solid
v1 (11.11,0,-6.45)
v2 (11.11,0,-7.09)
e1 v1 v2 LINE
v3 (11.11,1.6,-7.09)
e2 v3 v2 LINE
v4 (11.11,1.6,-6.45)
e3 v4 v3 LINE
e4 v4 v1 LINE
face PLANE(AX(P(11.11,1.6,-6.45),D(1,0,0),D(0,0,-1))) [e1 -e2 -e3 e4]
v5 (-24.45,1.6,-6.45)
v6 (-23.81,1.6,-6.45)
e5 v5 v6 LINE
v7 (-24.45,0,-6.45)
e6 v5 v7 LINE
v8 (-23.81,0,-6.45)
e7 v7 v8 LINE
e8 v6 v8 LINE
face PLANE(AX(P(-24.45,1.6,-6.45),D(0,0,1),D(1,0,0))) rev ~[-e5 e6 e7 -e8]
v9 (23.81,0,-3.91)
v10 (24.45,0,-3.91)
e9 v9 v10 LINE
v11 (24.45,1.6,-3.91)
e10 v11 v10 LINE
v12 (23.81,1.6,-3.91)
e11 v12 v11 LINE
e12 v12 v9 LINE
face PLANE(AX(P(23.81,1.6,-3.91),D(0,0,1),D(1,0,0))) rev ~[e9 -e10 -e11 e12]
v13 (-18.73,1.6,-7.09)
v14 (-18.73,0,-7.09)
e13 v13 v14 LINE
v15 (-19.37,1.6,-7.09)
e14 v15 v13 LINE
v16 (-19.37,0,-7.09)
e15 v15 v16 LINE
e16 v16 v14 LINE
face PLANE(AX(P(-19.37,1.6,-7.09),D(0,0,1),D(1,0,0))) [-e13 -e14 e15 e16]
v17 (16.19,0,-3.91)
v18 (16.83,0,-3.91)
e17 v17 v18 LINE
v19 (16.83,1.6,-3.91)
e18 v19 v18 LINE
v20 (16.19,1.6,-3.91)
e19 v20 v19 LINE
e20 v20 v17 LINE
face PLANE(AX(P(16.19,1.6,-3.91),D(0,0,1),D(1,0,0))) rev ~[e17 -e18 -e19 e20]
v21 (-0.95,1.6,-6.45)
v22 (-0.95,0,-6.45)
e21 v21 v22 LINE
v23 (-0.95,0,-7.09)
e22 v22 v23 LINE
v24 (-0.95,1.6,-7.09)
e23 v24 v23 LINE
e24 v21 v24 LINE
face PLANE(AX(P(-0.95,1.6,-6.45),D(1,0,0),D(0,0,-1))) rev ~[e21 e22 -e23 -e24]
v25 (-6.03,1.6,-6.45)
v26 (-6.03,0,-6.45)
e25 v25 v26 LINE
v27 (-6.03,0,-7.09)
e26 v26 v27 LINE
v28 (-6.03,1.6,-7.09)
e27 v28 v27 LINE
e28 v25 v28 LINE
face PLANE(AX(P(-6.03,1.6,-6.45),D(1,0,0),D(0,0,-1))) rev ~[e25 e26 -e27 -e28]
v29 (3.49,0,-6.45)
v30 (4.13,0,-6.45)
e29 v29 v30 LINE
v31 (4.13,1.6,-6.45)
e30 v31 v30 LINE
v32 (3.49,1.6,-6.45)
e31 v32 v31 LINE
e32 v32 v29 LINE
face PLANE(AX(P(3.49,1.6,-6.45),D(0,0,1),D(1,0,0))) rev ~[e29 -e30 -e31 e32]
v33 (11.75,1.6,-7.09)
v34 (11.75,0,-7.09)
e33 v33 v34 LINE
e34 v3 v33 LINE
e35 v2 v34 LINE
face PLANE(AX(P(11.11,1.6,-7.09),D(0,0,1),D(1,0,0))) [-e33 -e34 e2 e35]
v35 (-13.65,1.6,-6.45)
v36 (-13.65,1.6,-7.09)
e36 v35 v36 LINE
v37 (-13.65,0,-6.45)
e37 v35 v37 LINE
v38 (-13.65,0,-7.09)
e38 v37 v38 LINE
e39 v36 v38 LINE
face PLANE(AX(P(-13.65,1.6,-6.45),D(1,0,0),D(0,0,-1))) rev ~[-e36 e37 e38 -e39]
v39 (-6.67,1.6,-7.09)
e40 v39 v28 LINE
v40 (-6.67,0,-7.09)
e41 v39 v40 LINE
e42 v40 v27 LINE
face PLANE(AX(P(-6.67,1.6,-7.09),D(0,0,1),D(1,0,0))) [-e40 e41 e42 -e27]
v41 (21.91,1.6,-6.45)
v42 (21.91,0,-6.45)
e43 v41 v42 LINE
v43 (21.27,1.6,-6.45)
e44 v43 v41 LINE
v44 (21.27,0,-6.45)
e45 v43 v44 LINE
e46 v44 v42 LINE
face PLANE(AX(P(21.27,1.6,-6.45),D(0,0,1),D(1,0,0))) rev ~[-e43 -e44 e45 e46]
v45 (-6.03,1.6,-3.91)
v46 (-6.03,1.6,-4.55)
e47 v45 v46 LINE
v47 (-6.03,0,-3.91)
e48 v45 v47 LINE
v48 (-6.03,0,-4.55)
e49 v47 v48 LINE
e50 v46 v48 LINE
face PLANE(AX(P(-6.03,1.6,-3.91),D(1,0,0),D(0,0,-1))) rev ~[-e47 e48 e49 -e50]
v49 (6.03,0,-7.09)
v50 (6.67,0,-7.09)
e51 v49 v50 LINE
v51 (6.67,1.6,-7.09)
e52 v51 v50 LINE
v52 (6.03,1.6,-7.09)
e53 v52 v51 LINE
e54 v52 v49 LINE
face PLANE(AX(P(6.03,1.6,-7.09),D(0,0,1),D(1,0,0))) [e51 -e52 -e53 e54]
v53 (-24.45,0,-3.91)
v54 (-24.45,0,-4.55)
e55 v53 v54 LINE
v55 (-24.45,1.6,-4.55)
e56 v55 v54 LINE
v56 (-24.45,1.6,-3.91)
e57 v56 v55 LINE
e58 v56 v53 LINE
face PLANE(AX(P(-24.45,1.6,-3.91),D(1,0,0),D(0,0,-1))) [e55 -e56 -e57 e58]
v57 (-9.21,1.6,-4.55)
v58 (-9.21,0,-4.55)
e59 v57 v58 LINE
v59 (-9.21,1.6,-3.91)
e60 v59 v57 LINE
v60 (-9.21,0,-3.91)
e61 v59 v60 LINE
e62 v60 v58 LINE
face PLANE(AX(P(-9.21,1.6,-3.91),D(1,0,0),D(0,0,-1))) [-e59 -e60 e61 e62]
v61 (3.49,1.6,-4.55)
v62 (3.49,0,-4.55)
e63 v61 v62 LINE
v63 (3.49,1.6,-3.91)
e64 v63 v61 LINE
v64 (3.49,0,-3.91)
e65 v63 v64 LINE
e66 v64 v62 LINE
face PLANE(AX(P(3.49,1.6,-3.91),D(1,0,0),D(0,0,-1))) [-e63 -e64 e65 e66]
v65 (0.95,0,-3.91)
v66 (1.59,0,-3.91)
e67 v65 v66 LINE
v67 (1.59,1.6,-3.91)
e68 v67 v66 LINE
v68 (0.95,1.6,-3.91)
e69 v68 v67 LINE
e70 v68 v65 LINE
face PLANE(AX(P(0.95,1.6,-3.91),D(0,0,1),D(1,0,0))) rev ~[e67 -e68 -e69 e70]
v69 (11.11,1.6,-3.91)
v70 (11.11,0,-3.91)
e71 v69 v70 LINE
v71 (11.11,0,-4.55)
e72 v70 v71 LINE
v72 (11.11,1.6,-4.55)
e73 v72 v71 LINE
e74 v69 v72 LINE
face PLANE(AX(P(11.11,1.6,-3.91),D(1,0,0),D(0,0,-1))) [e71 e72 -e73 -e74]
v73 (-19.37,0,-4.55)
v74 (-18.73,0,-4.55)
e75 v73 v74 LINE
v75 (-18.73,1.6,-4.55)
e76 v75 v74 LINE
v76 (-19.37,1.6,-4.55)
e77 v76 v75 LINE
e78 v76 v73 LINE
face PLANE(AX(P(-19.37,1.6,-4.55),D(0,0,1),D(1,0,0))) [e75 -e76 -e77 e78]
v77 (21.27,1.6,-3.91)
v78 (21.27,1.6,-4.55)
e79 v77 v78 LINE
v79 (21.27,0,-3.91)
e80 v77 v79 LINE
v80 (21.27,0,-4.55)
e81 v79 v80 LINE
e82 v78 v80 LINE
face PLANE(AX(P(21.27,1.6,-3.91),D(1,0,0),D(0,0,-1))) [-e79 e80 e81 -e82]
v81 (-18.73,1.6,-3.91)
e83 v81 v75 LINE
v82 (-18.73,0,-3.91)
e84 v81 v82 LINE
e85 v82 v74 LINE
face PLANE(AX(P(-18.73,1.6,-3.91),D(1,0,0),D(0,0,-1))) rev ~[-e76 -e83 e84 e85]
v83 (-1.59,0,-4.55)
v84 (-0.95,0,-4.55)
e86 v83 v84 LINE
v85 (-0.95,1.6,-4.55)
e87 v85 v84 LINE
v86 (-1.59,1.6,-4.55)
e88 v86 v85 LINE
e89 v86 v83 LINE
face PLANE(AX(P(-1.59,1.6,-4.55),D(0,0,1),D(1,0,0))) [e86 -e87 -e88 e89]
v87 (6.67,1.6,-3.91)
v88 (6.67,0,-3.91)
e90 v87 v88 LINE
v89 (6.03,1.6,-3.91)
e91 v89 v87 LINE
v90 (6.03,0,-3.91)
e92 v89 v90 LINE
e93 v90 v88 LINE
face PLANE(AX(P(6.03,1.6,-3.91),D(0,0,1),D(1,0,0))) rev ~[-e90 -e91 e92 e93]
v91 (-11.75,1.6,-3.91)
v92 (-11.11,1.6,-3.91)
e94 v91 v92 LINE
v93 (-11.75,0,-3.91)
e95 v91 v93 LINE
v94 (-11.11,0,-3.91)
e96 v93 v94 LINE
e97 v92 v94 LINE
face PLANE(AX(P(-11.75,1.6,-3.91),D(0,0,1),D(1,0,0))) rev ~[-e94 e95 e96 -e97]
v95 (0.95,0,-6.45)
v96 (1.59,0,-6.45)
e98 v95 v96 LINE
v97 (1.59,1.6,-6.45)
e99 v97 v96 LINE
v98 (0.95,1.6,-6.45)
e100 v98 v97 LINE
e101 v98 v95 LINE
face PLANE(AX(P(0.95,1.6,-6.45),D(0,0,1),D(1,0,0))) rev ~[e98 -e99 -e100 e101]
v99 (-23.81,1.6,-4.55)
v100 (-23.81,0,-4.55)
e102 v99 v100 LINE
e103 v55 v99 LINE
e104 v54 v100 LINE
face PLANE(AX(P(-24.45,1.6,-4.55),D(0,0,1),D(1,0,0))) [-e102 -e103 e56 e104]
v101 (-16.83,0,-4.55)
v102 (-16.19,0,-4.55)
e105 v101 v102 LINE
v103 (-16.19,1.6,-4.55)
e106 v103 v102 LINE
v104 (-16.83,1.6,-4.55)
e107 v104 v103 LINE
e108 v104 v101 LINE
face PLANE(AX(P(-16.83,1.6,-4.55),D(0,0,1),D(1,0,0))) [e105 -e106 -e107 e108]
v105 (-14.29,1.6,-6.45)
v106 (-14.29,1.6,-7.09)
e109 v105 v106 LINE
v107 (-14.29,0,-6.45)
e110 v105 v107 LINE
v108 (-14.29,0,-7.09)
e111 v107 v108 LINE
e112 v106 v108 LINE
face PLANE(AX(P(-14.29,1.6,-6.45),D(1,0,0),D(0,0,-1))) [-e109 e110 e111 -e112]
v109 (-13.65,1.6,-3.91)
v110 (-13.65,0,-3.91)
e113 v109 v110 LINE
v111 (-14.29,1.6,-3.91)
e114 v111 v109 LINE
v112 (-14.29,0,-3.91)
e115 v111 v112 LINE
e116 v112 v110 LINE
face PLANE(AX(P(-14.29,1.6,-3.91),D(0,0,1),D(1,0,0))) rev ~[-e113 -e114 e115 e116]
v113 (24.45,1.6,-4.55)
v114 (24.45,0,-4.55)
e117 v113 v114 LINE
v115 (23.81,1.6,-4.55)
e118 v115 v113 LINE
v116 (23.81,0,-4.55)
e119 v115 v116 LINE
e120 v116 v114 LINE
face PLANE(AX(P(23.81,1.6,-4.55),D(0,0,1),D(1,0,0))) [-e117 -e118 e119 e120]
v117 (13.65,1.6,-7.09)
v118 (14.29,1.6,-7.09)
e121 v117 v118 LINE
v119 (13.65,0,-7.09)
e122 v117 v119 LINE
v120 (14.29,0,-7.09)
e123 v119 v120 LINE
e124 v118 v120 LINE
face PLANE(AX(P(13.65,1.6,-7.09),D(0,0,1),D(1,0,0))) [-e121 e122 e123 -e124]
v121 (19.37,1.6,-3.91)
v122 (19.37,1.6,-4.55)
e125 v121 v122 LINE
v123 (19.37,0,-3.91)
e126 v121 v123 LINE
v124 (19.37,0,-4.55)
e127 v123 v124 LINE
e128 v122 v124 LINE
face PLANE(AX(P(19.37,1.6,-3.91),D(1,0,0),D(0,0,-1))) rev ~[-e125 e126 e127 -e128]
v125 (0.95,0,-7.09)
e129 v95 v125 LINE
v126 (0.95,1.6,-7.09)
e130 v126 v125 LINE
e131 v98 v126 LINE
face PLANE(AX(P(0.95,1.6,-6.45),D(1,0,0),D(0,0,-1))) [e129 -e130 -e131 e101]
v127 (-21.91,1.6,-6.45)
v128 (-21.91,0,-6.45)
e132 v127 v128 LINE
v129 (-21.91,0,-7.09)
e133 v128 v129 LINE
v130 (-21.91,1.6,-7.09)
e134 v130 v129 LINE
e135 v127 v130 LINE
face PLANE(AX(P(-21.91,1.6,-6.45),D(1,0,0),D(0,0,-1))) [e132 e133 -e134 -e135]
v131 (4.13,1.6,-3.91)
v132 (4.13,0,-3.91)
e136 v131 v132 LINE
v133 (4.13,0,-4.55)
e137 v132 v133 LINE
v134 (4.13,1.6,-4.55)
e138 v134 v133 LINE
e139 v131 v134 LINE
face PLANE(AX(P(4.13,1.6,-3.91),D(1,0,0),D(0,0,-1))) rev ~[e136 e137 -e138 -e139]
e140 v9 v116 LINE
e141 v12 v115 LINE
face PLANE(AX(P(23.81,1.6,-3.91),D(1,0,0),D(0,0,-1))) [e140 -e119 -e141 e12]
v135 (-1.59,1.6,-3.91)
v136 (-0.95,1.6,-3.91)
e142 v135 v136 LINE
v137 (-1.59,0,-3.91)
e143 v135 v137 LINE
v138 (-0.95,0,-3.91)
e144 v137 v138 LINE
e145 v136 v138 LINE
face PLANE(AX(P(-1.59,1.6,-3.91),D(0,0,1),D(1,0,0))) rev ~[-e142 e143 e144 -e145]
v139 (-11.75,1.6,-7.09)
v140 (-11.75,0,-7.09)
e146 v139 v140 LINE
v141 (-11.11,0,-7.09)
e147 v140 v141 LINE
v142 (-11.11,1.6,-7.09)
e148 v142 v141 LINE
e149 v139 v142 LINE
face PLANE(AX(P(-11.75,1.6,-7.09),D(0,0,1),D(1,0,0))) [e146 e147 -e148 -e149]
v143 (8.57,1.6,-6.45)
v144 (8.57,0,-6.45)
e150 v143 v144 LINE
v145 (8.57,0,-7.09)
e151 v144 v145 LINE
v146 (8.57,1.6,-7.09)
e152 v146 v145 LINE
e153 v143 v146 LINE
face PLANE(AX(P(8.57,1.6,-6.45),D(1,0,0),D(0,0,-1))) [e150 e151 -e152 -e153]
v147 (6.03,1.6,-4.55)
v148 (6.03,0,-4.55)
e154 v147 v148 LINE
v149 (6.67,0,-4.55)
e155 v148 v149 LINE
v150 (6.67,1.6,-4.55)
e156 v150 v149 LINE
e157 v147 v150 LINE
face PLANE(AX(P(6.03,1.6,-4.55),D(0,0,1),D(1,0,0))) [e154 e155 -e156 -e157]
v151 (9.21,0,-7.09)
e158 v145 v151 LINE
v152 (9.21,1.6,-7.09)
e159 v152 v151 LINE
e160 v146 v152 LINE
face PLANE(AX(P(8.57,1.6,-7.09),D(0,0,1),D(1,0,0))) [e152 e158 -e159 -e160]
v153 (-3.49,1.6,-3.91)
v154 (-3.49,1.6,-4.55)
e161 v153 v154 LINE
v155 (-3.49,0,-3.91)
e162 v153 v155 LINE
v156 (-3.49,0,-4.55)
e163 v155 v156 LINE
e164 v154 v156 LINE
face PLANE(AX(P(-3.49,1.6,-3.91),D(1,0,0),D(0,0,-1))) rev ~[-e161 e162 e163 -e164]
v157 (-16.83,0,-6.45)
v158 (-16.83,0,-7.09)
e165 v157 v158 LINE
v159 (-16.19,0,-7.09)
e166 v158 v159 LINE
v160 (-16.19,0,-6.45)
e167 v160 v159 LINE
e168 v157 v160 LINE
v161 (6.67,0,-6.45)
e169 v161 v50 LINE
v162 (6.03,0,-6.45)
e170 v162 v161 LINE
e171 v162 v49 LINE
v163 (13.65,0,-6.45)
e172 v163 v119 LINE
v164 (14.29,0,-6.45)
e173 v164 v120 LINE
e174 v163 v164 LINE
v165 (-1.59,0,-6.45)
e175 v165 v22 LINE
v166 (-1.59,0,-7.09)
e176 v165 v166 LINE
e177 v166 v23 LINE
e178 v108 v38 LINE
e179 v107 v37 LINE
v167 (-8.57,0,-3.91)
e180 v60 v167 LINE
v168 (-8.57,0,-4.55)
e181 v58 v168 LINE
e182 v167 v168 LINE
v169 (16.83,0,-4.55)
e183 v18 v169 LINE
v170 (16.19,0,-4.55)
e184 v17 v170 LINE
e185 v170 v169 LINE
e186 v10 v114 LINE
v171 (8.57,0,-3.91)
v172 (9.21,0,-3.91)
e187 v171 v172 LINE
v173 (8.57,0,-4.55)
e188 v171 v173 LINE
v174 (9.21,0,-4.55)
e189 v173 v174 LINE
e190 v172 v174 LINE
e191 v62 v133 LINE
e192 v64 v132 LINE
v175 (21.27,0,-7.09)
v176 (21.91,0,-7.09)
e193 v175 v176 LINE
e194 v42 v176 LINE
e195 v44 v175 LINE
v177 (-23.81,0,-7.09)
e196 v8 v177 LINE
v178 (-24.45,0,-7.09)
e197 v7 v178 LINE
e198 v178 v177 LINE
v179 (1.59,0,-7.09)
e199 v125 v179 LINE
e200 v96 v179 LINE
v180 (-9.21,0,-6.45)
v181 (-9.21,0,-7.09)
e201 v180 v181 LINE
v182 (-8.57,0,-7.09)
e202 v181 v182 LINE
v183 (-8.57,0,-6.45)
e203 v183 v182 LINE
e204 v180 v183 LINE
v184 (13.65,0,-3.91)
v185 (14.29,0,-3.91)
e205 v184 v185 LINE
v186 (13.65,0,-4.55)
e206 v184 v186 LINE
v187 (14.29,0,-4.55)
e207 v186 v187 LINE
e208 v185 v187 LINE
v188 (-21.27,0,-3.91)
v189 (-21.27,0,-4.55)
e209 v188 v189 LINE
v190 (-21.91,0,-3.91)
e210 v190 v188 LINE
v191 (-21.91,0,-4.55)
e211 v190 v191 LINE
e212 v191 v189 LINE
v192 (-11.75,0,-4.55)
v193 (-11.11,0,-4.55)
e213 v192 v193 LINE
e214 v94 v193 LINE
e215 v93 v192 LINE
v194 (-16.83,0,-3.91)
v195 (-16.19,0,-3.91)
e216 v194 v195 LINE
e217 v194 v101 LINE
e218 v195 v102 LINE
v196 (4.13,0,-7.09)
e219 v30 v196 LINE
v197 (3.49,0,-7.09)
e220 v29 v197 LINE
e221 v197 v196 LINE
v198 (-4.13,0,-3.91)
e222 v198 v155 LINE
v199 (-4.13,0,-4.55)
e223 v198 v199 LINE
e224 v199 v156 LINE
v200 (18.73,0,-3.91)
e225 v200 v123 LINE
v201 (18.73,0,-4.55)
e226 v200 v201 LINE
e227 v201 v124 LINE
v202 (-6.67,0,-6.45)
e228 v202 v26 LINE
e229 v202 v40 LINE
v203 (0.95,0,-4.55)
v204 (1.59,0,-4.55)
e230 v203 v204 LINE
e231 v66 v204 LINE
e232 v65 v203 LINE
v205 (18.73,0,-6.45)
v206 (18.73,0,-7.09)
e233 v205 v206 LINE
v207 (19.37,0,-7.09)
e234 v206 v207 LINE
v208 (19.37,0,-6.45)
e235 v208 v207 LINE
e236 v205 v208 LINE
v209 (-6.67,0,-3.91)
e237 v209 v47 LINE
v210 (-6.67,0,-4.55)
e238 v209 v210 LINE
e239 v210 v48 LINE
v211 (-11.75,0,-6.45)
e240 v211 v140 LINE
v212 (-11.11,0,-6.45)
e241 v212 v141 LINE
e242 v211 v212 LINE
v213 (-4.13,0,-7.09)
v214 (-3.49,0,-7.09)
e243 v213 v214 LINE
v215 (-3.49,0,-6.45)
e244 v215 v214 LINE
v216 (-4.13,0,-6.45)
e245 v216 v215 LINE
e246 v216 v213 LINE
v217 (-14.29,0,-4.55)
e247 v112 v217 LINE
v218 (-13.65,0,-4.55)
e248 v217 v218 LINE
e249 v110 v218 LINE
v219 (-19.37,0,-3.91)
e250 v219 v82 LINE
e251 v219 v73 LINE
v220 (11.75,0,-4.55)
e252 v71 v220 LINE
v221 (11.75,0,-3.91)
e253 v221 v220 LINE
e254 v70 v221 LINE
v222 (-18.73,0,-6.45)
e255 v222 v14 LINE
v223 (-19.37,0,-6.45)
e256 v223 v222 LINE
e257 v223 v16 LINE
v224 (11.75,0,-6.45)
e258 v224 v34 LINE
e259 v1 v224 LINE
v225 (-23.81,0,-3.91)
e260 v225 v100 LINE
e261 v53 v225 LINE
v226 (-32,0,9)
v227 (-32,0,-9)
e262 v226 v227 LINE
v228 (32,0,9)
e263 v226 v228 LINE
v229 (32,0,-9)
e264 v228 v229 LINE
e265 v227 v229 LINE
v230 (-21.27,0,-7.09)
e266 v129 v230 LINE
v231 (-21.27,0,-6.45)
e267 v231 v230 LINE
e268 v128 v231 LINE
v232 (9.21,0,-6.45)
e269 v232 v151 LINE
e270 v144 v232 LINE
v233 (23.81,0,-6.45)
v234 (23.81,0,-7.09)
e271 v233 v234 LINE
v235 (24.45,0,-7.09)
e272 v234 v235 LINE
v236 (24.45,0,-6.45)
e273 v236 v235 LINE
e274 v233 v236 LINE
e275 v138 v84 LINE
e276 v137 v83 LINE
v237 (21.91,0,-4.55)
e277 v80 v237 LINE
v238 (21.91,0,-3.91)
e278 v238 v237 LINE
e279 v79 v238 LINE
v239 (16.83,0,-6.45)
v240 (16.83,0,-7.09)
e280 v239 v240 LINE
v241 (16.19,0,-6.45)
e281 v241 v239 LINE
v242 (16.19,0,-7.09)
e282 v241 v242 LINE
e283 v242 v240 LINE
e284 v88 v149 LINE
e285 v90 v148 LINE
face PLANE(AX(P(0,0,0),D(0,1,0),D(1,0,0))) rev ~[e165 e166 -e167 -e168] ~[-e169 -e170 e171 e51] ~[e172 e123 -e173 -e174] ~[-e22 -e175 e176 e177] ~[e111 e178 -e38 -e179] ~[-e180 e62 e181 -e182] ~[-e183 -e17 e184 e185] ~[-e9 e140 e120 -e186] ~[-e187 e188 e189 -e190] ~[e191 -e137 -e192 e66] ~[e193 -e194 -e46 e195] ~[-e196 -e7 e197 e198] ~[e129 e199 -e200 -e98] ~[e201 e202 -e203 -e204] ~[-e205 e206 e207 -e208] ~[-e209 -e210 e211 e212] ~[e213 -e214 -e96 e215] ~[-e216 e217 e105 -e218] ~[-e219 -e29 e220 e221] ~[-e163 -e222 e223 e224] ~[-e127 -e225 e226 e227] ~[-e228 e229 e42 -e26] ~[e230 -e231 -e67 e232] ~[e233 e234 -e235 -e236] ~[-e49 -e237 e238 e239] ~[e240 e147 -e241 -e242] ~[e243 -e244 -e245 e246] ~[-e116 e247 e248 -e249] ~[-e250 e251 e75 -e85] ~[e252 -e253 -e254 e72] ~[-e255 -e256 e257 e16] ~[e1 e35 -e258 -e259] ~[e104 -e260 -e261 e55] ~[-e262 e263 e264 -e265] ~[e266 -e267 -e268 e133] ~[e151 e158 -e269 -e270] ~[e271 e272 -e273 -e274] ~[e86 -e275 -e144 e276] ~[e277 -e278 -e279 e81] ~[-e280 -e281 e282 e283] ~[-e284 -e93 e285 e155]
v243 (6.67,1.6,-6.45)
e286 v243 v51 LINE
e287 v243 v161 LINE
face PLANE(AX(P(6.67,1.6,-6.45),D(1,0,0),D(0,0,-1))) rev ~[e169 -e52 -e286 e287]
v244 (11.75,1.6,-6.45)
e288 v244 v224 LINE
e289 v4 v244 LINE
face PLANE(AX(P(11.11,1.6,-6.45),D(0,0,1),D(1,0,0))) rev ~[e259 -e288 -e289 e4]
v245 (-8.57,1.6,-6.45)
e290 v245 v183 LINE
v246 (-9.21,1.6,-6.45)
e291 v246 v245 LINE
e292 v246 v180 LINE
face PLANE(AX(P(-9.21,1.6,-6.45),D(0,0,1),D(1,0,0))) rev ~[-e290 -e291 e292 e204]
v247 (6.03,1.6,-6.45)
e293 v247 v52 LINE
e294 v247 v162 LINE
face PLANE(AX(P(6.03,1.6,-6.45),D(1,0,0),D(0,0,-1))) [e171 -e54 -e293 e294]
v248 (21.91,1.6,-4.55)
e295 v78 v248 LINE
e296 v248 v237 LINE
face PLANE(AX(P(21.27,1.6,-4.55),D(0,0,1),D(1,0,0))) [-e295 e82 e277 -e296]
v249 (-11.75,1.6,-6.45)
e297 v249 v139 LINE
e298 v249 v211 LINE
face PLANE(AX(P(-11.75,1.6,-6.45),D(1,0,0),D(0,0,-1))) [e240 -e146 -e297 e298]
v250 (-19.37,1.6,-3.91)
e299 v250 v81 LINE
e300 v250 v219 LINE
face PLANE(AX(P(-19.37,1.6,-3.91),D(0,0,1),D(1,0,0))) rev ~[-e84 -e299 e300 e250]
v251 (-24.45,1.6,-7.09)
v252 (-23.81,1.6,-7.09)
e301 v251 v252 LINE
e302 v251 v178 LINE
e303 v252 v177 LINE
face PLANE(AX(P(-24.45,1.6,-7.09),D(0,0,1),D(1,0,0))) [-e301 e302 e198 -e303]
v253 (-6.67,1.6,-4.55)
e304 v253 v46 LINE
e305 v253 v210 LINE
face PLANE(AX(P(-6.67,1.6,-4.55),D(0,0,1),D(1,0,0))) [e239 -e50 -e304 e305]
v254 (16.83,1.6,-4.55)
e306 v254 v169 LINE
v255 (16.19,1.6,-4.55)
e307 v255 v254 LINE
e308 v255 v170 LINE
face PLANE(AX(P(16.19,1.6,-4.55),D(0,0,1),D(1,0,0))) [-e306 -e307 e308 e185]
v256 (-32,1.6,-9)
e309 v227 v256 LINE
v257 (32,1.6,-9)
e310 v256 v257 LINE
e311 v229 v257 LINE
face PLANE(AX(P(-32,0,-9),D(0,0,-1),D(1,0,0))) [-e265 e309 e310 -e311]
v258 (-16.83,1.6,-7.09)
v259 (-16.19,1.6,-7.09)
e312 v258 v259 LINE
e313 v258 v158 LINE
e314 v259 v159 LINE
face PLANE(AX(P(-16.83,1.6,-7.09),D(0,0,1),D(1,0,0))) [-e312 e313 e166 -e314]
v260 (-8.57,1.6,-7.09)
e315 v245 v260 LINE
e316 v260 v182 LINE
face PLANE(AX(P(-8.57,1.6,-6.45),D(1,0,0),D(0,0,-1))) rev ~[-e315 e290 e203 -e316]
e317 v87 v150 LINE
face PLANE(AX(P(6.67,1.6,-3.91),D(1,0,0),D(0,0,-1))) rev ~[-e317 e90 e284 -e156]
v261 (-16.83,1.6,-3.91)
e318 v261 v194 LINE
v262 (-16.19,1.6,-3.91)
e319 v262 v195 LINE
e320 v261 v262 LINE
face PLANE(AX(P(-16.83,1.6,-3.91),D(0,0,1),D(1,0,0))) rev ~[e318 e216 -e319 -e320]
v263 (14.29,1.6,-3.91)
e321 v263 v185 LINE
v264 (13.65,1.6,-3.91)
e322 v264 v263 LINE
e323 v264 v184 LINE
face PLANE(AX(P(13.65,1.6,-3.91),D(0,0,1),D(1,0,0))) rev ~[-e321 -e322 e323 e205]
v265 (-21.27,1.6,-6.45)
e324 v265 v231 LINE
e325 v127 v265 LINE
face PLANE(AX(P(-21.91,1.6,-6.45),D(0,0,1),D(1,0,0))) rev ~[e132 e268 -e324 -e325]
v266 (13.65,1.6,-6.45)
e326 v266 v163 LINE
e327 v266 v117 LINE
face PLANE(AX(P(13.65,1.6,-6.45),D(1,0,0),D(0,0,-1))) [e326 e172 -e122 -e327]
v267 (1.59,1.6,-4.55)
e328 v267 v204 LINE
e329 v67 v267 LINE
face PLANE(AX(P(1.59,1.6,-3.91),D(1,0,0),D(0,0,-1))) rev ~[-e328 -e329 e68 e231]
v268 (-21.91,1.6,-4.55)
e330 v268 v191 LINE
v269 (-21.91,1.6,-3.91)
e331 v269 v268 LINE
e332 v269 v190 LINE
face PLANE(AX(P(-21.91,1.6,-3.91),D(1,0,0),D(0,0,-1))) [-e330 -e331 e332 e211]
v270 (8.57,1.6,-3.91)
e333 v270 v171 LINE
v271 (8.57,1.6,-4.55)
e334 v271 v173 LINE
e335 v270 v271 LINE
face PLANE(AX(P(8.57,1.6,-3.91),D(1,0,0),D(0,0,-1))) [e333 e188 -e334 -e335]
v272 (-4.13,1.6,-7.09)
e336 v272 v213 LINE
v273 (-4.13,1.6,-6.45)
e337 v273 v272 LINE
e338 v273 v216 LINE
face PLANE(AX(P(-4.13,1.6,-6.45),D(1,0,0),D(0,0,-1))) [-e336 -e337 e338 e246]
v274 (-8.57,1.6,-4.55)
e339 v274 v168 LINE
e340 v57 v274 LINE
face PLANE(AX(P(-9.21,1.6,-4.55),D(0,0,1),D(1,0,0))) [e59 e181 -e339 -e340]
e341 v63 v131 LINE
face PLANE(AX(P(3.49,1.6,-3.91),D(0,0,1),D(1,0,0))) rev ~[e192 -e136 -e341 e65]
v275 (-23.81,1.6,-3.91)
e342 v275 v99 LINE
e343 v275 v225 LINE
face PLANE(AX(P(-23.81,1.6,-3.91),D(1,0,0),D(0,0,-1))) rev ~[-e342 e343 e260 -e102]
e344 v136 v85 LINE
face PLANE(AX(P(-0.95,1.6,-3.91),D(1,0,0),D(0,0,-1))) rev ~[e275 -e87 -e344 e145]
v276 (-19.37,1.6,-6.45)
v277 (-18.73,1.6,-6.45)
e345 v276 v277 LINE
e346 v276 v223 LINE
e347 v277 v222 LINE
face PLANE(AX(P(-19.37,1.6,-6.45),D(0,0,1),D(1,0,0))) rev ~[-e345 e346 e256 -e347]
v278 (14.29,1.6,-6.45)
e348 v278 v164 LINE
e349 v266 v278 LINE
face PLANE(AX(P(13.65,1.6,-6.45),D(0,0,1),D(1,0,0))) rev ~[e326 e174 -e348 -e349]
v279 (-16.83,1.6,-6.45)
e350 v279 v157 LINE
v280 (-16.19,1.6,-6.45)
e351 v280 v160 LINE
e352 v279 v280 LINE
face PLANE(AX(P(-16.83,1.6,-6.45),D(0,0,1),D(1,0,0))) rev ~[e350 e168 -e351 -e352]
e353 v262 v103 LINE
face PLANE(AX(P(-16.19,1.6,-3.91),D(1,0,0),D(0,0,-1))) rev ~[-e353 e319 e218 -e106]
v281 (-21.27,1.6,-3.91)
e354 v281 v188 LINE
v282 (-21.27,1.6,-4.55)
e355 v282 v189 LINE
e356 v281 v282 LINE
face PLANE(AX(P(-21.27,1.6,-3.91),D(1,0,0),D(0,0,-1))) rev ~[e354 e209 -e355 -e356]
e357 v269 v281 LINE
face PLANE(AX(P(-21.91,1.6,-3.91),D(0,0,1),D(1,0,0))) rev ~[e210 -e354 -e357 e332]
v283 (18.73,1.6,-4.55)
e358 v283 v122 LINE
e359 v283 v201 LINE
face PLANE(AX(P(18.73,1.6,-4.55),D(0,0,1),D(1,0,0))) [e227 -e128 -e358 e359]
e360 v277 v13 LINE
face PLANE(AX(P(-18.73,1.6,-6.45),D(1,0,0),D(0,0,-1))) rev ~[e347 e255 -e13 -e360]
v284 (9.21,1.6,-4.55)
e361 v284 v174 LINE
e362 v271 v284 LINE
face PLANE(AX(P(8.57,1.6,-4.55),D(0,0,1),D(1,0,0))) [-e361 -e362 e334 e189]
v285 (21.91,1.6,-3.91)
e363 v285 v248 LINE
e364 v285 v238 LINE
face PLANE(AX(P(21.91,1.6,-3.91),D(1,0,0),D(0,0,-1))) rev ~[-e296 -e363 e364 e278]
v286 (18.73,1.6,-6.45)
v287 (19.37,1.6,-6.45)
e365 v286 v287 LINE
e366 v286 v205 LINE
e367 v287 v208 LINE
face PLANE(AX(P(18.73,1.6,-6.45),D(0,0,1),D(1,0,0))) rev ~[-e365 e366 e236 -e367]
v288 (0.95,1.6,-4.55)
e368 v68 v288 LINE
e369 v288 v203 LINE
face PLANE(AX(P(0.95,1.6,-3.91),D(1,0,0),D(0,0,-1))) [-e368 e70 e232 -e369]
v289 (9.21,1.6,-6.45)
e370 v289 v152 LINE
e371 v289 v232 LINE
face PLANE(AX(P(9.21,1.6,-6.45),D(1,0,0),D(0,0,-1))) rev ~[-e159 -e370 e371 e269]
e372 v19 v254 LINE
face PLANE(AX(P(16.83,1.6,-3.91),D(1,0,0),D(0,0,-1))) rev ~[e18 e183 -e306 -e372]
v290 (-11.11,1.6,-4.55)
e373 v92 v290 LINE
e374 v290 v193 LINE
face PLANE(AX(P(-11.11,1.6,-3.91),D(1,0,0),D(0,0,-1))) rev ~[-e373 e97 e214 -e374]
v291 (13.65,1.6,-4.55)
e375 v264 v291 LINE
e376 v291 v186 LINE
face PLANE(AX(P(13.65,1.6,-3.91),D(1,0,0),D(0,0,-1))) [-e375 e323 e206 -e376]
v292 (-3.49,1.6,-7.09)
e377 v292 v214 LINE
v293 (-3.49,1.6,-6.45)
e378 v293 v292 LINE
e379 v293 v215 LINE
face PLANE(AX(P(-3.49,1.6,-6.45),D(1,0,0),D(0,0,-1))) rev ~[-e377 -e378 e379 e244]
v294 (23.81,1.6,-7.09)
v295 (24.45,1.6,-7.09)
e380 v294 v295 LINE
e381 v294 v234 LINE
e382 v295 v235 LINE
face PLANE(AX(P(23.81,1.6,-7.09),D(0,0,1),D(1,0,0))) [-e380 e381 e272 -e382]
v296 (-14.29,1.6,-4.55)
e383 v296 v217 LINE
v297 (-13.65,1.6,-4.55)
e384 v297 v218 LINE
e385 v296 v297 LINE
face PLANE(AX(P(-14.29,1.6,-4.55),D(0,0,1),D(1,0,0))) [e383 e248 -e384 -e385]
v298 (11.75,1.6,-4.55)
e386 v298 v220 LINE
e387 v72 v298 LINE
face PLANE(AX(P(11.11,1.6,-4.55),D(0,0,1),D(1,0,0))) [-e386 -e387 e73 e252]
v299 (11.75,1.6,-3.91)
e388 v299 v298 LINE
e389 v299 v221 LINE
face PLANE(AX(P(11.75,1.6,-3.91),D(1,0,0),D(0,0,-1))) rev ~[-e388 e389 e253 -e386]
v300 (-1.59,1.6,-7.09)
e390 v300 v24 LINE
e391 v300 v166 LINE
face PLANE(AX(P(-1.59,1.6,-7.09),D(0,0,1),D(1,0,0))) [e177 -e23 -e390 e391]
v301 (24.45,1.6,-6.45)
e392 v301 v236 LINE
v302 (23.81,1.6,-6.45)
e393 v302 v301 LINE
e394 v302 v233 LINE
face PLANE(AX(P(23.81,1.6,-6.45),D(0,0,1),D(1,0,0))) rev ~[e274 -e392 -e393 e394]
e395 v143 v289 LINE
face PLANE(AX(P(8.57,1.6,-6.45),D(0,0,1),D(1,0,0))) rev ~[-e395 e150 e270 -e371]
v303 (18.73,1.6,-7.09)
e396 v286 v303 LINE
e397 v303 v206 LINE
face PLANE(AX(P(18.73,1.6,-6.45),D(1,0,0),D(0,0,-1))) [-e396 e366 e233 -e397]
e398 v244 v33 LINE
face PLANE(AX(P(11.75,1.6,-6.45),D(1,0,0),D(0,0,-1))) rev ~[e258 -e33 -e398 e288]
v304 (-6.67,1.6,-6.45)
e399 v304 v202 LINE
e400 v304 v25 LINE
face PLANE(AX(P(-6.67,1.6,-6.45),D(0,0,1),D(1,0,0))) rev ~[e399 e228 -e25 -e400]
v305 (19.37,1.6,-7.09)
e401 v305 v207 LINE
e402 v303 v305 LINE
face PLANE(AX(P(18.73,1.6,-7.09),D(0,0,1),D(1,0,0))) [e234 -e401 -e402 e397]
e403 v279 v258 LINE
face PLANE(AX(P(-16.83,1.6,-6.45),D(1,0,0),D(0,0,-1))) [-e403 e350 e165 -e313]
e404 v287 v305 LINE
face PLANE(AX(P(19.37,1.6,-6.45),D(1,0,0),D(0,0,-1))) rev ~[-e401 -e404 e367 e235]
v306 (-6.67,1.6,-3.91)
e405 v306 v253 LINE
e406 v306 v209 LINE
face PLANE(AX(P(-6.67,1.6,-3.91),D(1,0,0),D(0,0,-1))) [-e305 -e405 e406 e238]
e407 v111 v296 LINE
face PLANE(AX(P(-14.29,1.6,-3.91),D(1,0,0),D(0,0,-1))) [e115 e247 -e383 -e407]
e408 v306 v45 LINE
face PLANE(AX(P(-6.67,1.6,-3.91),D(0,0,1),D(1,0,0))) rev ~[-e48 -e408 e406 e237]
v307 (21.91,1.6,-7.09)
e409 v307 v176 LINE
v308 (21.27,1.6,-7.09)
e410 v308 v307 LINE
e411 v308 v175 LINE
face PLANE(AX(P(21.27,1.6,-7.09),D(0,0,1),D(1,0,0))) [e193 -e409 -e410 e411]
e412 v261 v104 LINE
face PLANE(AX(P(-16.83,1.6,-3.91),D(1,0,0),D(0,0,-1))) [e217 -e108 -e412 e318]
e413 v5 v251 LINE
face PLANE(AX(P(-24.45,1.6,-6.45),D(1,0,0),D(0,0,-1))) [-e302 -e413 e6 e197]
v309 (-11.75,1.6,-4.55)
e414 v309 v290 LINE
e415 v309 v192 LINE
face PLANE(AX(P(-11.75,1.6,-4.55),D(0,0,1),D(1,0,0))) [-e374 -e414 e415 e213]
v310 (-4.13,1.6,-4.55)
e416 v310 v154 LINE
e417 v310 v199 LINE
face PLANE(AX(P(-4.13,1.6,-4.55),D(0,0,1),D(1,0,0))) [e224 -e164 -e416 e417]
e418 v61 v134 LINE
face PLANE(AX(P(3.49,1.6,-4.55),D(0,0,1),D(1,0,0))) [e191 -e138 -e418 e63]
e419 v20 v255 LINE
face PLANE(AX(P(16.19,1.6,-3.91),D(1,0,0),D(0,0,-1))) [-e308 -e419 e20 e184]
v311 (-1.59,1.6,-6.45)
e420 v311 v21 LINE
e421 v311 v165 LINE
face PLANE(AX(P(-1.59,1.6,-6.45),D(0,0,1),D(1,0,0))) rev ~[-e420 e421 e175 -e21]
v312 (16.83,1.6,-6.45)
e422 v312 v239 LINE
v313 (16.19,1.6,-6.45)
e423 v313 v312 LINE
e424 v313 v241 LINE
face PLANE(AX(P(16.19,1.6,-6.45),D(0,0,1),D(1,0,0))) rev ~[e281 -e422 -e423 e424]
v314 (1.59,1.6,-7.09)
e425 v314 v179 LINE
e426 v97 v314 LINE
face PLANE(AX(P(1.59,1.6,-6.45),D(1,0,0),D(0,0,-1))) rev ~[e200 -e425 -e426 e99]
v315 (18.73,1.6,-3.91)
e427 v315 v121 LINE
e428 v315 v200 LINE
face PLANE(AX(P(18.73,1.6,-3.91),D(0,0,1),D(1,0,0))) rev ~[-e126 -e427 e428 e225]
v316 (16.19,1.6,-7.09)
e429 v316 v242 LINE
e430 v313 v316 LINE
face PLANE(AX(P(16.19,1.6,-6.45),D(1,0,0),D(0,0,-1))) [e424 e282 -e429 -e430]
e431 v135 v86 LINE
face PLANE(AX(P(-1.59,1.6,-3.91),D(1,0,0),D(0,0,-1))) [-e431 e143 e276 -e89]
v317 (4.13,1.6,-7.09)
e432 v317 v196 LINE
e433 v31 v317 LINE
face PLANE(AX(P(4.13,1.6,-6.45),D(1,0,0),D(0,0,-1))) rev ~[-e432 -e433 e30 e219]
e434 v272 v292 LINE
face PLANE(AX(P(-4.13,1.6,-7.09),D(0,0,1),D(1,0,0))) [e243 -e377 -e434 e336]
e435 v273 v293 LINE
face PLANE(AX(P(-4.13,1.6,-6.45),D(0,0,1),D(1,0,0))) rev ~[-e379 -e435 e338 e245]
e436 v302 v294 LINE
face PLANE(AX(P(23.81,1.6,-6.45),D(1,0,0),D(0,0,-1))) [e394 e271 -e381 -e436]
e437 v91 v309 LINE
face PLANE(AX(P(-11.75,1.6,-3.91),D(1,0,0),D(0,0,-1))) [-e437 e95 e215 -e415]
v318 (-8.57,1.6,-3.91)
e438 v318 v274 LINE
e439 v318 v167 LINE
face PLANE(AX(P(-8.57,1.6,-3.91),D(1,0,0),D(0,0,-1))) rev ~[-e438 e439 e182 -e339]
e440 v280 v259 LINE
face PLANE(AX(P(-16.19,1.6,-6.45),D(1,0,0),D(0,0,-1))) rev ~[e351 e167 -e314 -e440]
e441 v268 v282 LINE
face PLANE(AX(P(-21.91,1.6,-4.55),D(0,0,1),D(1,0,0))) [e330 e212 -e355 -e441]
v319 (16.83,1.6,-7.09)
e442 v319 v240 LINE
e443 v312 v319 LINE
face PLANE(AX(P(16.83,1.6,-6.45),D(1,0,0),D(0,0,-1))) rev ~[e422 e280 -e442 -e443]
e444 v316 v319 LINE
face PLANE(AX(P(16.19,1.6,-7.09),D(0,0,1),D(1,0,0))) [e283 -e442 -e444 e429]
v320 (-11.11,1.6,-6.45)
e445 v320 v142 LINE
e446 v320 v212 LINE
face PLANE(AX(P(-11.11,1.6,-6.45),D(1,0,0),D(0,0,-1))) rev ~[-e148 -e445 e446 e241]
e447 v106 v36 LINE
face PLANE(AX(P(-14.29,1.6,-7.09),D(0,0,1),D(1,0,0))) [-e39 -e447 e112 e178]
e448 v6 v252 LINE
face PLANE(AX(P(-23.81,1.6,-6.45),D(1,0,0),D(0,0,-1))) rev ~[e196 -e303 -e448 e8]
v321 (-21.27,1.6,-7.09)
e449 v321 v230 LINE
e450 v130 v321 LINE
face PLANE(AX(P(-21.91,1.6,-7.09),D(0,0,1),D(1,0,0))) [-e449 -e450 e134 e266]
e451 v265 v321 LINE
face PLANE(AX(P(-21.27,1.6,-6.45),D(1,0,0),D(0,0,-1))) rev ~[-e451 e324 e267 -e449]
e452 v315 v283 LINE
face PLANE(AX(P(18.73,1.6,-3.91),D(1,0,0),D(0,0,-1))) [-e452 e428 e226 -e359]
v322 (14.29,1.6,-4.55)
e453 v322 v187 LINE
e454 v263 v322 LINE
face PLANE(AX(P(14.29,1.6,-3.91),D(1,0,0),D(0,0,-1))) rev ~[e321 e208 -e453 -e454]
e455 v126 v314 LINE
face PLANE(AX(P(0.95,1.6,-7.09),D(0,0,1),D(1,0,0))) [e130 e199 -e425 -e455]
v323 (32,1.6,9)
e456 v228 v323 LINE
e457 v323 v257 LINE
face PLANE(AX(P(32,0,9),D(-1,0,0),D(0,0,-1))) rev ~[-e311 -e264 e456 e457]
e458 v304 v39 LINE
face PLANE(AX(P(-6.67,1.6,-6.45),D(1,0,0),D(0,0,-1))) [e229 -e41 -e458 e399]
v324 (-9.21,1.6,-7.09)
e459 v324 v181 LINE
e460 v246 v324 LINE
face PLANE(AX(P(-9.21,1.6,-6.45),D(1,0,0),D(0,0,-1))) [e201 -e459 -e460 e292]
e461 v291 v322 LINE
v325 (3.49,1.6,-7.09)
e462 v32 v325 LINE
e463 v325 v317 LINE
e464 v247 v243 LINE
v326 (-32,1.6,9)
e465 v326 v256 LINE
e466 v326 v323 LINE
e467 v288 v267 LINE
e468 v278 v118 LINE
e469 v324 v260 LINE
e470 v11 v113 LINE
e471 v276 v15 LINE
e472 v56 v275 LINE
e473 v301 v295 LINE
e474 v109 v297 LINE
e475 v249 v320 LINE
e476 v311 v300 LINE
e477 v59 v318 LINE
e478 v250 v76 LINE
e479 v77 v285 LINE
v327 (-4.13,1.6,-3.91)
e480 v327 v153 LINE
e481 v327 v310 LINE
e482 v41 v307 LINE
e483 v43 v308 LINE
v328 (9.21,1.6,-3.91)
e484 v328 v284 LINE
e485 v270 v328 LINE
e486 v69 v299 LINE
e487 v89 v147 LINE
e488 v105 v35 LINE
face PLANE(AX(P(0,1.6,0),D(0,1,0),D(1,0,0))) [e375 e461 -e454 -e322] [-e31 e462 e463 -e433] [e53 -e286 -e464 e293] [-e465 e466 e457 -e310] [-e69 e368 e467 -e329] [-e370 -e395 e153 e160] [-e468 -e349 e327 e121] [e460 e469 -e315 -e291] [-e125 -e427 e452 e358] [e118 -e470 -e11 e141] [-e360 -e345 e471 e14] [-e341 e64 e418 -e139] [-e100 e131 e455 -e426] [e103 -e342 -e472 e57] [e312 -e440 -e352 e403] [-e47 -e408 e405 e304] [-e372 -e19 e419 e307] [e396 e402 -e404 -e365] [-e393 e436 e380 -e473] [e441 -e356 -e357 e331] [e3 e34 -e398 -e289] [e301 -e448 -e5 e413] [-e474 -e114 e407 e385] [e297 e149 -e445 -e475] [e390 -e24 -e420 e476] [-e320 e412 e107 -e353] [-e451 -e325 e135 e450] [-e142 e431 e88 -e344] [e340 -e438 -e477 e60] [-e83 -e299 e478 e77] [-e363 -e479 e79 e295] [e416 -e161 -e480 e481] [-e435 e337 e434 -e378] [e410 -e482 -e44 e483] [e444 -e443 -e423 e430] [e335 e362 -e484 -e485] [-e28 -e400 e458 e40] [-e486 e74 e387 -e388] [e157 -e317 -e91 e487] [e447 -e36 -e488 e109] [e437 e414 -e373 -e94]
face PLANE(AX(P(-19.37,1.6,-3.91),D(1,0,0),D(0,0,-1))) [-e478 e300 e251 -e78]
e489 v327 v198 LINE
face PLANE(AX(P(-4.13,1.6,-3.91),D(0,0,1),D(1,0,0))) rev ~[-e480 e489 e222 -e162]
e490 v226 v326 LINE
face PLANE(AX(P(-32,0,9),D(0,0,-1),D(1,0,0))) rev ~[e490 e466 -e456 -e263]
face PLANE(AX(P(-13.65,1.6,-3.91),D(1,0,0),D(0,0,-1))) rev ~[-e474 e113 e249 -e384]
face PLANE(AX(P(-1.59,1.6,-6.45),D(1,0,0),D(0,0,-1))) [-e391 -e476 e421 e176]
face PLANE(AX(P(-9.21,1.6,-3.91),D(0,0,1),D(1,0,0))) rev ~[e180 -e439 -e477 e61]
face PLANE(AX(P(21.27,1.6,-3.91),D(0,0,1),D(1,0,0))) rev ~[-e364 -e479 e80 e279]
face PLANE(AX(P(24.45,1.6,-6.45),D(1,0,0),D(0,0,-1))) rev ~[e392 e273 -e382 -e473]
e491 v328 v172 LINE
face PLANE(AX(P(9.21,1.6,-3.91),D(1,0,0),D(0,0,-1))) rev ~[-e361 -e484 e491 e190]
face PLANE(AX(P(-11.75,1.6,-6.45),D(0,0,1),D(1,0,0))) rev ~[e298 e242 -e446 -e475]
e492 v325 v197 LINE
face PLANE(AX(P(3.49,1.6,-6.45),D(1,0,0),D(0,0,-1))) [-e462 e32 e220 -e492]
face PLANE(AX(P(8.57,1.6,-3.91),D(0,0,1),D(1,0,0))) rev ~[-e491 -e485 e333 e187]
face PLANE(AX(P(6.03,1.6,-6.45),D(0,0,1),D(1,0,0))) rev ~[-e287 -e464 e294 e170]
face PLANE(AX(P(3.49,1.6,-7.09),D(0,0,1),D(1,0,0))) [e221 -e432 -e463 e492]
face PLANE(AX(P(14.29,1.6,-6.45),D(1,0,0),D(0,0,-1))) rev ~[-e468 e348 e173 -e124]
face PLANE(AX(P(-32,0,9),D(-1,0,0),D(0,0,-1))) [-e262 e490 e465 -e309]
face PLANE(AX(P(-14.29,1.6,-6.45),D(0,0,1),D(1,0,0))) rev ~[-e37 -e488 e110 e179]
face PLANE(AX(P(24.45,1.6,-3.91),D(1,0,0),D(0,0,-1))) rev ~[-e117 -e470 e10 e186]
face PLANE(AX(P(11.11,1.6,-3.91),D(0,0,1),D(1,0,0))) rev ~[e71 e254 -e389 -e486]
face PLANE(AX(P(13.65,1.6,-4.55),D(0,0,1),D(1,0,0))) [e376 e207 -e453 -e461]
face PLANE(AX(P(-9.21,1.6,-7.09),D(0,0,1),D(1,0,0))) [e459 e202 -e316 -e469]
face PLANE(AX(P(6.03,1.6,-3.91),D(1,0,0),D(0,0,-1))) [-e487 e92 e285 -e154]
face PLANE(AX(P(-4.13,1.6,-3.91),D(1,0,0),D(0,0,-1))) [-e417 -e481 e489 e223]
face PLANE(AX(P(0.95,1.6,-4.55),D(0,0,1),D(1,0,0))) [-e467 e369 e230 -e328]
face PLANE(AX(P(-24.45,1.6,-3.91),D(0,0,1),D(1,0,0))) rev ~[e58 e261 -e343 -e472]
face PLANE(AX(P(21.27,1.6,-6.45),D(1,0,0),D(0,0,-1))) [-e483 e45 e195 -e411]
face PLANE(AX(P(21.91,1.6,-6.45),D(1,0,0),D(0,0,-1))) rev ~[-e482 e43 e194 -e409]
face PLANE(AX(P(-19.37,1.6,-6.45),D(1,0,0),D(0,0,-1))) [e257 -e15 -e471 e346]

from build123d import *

# Parameters (mm, degrees)
SKETCH1_W           = 64
SKETCH1_H           = 18
BOSS_EXTRUDE1_DEPTH = 1.6
SKETCH2_W           = 0.64
SKETCH2_H           = 0.64
CUT_EXTRUDE2_DEPTH  = 34.280024038


with BuildPart() as part:
    # Sketch1 → Boss-Extrude1 (new body)
    with BuildSketch(Plane(origin=(0, 0, 0), x_dir=(1, 0, 0), z_dir=(0, 1, 0))):
        Rectangle(SKETCH1_W, SKETCH1_H)
    extrude(amount=BOSS_EXTRUDE1_DEPTH)

    # Sketch2 → Cut-Extrude2 (cut, through all)
    with BuildSketch(Plane(origin=(0, 1.6, 0), x_dir=(1, 0, 0), z_dir=(0, 1, 0))):
        with Locations((-21.59, 6.77)):
            Rectangle(SKETCH2_W, SKETCH2_H)
        with Locations((-24.13, 6.77)):
            Rectangle(SKETCH2_W, SKETCH2_H)
        with Locations((-24.13, 4.23)):
            Rectangle(SKETCH2_W, SKETCH2_H)
        with Locations((-21.59, 4.23)):
            Rectangle(SKETCH2_W, SKETCH2_H)
        with Locations((-19.05, 6.77)):
            Rectangle(SKETCH2_W, SKETCH2_H)
        with Locations((-19.05, 4.23)):
            Rectangle(SKETCH2_W, SKETCH2_H)
        with Locations((-16.51, 4.23)):
            Rectangle(SKETCH2_W, SKETCH2_H)
        with Locations((-16.51, 6.77)):
            Rectangle(SKETCH2_W, SKETCH2_H)
        with Locations((-13.97, 6.77)):
            Rectangle(SKETCH2_W, SKETCH2_H)
        with Locations((-13.97, 4.23)):
            Rectangle(SKETCH2_W, SKETCH2_H)
        with Locations((-11.43, 6.77)):
            Rectangle(SKETCH2_W, SKETCH2_H)
        with Locations((-11.43, 4.23)):
            Rectangle(SKETCH2_W, SKETCH2_H)
        with Locations((-8.89, 6.77)):
            Rectangle(SKETCH2_W, SKETCH2_H)
        with Locations((-8.89, 4.23)):
            Rectangle(SKETCH2_W, SKETCH2_H)
        with Locations((-6.35, 4.23)):
            Rectangle(SKETCH2_W, SKETCH2_H)
        with Locations((-6.35, 6.77)):
            Rectangle(SKETCH2_W, SKETCH2_H)
        with Locations((-3.81, 6.77)):
            Rectangle(SKETCH2_W, SKETCH2_H)
        with Locations((-3.81, 4.23)):
            Rectangle(SKETCH2_W, SKETCH2_H)
        with Locations((-1.27, 4.23)):
            Rectangle(SKETCH2_W, SKETCH2_H)
        with Locations((1.27, 4.23)):
            Rectangle(SKETCH2_W, SKETCH2_H)
        with Locations((-1.27, 6.77)):
            Rectangle(SKETCH2_W, SKETCH2_H)
        with Locations((1.27, 6.77)):
            Rectangle(SKETCH2_W, SKETCH2_H)
        with Locations((3.81, 6.77)):
            Rectangle(SKETCH2_W, SKETCH2_H)
        with Locations((3.81, 4.23)):
            Rectangle(SKETCH2_W, SKETCH2_H)
        with Locations((6.35, 4.23)):
            Rectangle(SKETCH2_W, SKETCH2_H)
        with Locations((8.89, 4.23)):
            Rectangle(SKETCH2_W, SKETCH2_H)
        with Locations((6.35, 6.77)):
            Rectangle(SKETCH2_W, SKETCH2_H)
        with Locations((8.89, 6.77)):
            Rectangle(SKETCH2_W, SKETCH2_H)
        with Locations((11.43, 6.77)):
            Rectangle(SKETCH2_W, SKETCH2_H)
        with Locations((11.43, 4.23)):
            Rectangle(SKETCH2_W, SKETCH2_H)
        with Locations((13.97, 6.77)):
            Rectangle(SKETCH2_W, SKETCH2_H)
        with Locations((13.97, 4.23)):
            Rectangle(SKETCH2_W, SKETCH2_H)
        with Locations((16.51, 6.77)):
            Rectangle(SKETCH2_W, SKETCH2_H)
        with Locations((16.51, 4.23)):
            Rectangle(SKETCH2_W, SKETCH2_H)
        with Locations((19.05, 6.77)):
            Rectangle(SKETCH2_W, SKETCH2_H)
        with Locations((19.05, 4.23)):
            Rectangle(SKETCH2_W, SKETCH2_H)
        with Locations((21.59, 6.77)):
            Rectangle(SKETCH2_W, SKETCH2_H)
        with Locations((21.59, 4.23)):
            Rectangle(SKETCH2_W, SKETCH2_H)
        with Locations((24.13, 4.23)):
            Rectangle(SKETCH2_W, SKETCH2_H)
        with Locations((24.13, 6.77)):
            Rectangle(SKETCH2_W, SKETCH2_H)
    extrude(amount=-CUT_EXTRUDE2_DEPTH, mode=Mode.SUBTRACT)


solid = part.part
